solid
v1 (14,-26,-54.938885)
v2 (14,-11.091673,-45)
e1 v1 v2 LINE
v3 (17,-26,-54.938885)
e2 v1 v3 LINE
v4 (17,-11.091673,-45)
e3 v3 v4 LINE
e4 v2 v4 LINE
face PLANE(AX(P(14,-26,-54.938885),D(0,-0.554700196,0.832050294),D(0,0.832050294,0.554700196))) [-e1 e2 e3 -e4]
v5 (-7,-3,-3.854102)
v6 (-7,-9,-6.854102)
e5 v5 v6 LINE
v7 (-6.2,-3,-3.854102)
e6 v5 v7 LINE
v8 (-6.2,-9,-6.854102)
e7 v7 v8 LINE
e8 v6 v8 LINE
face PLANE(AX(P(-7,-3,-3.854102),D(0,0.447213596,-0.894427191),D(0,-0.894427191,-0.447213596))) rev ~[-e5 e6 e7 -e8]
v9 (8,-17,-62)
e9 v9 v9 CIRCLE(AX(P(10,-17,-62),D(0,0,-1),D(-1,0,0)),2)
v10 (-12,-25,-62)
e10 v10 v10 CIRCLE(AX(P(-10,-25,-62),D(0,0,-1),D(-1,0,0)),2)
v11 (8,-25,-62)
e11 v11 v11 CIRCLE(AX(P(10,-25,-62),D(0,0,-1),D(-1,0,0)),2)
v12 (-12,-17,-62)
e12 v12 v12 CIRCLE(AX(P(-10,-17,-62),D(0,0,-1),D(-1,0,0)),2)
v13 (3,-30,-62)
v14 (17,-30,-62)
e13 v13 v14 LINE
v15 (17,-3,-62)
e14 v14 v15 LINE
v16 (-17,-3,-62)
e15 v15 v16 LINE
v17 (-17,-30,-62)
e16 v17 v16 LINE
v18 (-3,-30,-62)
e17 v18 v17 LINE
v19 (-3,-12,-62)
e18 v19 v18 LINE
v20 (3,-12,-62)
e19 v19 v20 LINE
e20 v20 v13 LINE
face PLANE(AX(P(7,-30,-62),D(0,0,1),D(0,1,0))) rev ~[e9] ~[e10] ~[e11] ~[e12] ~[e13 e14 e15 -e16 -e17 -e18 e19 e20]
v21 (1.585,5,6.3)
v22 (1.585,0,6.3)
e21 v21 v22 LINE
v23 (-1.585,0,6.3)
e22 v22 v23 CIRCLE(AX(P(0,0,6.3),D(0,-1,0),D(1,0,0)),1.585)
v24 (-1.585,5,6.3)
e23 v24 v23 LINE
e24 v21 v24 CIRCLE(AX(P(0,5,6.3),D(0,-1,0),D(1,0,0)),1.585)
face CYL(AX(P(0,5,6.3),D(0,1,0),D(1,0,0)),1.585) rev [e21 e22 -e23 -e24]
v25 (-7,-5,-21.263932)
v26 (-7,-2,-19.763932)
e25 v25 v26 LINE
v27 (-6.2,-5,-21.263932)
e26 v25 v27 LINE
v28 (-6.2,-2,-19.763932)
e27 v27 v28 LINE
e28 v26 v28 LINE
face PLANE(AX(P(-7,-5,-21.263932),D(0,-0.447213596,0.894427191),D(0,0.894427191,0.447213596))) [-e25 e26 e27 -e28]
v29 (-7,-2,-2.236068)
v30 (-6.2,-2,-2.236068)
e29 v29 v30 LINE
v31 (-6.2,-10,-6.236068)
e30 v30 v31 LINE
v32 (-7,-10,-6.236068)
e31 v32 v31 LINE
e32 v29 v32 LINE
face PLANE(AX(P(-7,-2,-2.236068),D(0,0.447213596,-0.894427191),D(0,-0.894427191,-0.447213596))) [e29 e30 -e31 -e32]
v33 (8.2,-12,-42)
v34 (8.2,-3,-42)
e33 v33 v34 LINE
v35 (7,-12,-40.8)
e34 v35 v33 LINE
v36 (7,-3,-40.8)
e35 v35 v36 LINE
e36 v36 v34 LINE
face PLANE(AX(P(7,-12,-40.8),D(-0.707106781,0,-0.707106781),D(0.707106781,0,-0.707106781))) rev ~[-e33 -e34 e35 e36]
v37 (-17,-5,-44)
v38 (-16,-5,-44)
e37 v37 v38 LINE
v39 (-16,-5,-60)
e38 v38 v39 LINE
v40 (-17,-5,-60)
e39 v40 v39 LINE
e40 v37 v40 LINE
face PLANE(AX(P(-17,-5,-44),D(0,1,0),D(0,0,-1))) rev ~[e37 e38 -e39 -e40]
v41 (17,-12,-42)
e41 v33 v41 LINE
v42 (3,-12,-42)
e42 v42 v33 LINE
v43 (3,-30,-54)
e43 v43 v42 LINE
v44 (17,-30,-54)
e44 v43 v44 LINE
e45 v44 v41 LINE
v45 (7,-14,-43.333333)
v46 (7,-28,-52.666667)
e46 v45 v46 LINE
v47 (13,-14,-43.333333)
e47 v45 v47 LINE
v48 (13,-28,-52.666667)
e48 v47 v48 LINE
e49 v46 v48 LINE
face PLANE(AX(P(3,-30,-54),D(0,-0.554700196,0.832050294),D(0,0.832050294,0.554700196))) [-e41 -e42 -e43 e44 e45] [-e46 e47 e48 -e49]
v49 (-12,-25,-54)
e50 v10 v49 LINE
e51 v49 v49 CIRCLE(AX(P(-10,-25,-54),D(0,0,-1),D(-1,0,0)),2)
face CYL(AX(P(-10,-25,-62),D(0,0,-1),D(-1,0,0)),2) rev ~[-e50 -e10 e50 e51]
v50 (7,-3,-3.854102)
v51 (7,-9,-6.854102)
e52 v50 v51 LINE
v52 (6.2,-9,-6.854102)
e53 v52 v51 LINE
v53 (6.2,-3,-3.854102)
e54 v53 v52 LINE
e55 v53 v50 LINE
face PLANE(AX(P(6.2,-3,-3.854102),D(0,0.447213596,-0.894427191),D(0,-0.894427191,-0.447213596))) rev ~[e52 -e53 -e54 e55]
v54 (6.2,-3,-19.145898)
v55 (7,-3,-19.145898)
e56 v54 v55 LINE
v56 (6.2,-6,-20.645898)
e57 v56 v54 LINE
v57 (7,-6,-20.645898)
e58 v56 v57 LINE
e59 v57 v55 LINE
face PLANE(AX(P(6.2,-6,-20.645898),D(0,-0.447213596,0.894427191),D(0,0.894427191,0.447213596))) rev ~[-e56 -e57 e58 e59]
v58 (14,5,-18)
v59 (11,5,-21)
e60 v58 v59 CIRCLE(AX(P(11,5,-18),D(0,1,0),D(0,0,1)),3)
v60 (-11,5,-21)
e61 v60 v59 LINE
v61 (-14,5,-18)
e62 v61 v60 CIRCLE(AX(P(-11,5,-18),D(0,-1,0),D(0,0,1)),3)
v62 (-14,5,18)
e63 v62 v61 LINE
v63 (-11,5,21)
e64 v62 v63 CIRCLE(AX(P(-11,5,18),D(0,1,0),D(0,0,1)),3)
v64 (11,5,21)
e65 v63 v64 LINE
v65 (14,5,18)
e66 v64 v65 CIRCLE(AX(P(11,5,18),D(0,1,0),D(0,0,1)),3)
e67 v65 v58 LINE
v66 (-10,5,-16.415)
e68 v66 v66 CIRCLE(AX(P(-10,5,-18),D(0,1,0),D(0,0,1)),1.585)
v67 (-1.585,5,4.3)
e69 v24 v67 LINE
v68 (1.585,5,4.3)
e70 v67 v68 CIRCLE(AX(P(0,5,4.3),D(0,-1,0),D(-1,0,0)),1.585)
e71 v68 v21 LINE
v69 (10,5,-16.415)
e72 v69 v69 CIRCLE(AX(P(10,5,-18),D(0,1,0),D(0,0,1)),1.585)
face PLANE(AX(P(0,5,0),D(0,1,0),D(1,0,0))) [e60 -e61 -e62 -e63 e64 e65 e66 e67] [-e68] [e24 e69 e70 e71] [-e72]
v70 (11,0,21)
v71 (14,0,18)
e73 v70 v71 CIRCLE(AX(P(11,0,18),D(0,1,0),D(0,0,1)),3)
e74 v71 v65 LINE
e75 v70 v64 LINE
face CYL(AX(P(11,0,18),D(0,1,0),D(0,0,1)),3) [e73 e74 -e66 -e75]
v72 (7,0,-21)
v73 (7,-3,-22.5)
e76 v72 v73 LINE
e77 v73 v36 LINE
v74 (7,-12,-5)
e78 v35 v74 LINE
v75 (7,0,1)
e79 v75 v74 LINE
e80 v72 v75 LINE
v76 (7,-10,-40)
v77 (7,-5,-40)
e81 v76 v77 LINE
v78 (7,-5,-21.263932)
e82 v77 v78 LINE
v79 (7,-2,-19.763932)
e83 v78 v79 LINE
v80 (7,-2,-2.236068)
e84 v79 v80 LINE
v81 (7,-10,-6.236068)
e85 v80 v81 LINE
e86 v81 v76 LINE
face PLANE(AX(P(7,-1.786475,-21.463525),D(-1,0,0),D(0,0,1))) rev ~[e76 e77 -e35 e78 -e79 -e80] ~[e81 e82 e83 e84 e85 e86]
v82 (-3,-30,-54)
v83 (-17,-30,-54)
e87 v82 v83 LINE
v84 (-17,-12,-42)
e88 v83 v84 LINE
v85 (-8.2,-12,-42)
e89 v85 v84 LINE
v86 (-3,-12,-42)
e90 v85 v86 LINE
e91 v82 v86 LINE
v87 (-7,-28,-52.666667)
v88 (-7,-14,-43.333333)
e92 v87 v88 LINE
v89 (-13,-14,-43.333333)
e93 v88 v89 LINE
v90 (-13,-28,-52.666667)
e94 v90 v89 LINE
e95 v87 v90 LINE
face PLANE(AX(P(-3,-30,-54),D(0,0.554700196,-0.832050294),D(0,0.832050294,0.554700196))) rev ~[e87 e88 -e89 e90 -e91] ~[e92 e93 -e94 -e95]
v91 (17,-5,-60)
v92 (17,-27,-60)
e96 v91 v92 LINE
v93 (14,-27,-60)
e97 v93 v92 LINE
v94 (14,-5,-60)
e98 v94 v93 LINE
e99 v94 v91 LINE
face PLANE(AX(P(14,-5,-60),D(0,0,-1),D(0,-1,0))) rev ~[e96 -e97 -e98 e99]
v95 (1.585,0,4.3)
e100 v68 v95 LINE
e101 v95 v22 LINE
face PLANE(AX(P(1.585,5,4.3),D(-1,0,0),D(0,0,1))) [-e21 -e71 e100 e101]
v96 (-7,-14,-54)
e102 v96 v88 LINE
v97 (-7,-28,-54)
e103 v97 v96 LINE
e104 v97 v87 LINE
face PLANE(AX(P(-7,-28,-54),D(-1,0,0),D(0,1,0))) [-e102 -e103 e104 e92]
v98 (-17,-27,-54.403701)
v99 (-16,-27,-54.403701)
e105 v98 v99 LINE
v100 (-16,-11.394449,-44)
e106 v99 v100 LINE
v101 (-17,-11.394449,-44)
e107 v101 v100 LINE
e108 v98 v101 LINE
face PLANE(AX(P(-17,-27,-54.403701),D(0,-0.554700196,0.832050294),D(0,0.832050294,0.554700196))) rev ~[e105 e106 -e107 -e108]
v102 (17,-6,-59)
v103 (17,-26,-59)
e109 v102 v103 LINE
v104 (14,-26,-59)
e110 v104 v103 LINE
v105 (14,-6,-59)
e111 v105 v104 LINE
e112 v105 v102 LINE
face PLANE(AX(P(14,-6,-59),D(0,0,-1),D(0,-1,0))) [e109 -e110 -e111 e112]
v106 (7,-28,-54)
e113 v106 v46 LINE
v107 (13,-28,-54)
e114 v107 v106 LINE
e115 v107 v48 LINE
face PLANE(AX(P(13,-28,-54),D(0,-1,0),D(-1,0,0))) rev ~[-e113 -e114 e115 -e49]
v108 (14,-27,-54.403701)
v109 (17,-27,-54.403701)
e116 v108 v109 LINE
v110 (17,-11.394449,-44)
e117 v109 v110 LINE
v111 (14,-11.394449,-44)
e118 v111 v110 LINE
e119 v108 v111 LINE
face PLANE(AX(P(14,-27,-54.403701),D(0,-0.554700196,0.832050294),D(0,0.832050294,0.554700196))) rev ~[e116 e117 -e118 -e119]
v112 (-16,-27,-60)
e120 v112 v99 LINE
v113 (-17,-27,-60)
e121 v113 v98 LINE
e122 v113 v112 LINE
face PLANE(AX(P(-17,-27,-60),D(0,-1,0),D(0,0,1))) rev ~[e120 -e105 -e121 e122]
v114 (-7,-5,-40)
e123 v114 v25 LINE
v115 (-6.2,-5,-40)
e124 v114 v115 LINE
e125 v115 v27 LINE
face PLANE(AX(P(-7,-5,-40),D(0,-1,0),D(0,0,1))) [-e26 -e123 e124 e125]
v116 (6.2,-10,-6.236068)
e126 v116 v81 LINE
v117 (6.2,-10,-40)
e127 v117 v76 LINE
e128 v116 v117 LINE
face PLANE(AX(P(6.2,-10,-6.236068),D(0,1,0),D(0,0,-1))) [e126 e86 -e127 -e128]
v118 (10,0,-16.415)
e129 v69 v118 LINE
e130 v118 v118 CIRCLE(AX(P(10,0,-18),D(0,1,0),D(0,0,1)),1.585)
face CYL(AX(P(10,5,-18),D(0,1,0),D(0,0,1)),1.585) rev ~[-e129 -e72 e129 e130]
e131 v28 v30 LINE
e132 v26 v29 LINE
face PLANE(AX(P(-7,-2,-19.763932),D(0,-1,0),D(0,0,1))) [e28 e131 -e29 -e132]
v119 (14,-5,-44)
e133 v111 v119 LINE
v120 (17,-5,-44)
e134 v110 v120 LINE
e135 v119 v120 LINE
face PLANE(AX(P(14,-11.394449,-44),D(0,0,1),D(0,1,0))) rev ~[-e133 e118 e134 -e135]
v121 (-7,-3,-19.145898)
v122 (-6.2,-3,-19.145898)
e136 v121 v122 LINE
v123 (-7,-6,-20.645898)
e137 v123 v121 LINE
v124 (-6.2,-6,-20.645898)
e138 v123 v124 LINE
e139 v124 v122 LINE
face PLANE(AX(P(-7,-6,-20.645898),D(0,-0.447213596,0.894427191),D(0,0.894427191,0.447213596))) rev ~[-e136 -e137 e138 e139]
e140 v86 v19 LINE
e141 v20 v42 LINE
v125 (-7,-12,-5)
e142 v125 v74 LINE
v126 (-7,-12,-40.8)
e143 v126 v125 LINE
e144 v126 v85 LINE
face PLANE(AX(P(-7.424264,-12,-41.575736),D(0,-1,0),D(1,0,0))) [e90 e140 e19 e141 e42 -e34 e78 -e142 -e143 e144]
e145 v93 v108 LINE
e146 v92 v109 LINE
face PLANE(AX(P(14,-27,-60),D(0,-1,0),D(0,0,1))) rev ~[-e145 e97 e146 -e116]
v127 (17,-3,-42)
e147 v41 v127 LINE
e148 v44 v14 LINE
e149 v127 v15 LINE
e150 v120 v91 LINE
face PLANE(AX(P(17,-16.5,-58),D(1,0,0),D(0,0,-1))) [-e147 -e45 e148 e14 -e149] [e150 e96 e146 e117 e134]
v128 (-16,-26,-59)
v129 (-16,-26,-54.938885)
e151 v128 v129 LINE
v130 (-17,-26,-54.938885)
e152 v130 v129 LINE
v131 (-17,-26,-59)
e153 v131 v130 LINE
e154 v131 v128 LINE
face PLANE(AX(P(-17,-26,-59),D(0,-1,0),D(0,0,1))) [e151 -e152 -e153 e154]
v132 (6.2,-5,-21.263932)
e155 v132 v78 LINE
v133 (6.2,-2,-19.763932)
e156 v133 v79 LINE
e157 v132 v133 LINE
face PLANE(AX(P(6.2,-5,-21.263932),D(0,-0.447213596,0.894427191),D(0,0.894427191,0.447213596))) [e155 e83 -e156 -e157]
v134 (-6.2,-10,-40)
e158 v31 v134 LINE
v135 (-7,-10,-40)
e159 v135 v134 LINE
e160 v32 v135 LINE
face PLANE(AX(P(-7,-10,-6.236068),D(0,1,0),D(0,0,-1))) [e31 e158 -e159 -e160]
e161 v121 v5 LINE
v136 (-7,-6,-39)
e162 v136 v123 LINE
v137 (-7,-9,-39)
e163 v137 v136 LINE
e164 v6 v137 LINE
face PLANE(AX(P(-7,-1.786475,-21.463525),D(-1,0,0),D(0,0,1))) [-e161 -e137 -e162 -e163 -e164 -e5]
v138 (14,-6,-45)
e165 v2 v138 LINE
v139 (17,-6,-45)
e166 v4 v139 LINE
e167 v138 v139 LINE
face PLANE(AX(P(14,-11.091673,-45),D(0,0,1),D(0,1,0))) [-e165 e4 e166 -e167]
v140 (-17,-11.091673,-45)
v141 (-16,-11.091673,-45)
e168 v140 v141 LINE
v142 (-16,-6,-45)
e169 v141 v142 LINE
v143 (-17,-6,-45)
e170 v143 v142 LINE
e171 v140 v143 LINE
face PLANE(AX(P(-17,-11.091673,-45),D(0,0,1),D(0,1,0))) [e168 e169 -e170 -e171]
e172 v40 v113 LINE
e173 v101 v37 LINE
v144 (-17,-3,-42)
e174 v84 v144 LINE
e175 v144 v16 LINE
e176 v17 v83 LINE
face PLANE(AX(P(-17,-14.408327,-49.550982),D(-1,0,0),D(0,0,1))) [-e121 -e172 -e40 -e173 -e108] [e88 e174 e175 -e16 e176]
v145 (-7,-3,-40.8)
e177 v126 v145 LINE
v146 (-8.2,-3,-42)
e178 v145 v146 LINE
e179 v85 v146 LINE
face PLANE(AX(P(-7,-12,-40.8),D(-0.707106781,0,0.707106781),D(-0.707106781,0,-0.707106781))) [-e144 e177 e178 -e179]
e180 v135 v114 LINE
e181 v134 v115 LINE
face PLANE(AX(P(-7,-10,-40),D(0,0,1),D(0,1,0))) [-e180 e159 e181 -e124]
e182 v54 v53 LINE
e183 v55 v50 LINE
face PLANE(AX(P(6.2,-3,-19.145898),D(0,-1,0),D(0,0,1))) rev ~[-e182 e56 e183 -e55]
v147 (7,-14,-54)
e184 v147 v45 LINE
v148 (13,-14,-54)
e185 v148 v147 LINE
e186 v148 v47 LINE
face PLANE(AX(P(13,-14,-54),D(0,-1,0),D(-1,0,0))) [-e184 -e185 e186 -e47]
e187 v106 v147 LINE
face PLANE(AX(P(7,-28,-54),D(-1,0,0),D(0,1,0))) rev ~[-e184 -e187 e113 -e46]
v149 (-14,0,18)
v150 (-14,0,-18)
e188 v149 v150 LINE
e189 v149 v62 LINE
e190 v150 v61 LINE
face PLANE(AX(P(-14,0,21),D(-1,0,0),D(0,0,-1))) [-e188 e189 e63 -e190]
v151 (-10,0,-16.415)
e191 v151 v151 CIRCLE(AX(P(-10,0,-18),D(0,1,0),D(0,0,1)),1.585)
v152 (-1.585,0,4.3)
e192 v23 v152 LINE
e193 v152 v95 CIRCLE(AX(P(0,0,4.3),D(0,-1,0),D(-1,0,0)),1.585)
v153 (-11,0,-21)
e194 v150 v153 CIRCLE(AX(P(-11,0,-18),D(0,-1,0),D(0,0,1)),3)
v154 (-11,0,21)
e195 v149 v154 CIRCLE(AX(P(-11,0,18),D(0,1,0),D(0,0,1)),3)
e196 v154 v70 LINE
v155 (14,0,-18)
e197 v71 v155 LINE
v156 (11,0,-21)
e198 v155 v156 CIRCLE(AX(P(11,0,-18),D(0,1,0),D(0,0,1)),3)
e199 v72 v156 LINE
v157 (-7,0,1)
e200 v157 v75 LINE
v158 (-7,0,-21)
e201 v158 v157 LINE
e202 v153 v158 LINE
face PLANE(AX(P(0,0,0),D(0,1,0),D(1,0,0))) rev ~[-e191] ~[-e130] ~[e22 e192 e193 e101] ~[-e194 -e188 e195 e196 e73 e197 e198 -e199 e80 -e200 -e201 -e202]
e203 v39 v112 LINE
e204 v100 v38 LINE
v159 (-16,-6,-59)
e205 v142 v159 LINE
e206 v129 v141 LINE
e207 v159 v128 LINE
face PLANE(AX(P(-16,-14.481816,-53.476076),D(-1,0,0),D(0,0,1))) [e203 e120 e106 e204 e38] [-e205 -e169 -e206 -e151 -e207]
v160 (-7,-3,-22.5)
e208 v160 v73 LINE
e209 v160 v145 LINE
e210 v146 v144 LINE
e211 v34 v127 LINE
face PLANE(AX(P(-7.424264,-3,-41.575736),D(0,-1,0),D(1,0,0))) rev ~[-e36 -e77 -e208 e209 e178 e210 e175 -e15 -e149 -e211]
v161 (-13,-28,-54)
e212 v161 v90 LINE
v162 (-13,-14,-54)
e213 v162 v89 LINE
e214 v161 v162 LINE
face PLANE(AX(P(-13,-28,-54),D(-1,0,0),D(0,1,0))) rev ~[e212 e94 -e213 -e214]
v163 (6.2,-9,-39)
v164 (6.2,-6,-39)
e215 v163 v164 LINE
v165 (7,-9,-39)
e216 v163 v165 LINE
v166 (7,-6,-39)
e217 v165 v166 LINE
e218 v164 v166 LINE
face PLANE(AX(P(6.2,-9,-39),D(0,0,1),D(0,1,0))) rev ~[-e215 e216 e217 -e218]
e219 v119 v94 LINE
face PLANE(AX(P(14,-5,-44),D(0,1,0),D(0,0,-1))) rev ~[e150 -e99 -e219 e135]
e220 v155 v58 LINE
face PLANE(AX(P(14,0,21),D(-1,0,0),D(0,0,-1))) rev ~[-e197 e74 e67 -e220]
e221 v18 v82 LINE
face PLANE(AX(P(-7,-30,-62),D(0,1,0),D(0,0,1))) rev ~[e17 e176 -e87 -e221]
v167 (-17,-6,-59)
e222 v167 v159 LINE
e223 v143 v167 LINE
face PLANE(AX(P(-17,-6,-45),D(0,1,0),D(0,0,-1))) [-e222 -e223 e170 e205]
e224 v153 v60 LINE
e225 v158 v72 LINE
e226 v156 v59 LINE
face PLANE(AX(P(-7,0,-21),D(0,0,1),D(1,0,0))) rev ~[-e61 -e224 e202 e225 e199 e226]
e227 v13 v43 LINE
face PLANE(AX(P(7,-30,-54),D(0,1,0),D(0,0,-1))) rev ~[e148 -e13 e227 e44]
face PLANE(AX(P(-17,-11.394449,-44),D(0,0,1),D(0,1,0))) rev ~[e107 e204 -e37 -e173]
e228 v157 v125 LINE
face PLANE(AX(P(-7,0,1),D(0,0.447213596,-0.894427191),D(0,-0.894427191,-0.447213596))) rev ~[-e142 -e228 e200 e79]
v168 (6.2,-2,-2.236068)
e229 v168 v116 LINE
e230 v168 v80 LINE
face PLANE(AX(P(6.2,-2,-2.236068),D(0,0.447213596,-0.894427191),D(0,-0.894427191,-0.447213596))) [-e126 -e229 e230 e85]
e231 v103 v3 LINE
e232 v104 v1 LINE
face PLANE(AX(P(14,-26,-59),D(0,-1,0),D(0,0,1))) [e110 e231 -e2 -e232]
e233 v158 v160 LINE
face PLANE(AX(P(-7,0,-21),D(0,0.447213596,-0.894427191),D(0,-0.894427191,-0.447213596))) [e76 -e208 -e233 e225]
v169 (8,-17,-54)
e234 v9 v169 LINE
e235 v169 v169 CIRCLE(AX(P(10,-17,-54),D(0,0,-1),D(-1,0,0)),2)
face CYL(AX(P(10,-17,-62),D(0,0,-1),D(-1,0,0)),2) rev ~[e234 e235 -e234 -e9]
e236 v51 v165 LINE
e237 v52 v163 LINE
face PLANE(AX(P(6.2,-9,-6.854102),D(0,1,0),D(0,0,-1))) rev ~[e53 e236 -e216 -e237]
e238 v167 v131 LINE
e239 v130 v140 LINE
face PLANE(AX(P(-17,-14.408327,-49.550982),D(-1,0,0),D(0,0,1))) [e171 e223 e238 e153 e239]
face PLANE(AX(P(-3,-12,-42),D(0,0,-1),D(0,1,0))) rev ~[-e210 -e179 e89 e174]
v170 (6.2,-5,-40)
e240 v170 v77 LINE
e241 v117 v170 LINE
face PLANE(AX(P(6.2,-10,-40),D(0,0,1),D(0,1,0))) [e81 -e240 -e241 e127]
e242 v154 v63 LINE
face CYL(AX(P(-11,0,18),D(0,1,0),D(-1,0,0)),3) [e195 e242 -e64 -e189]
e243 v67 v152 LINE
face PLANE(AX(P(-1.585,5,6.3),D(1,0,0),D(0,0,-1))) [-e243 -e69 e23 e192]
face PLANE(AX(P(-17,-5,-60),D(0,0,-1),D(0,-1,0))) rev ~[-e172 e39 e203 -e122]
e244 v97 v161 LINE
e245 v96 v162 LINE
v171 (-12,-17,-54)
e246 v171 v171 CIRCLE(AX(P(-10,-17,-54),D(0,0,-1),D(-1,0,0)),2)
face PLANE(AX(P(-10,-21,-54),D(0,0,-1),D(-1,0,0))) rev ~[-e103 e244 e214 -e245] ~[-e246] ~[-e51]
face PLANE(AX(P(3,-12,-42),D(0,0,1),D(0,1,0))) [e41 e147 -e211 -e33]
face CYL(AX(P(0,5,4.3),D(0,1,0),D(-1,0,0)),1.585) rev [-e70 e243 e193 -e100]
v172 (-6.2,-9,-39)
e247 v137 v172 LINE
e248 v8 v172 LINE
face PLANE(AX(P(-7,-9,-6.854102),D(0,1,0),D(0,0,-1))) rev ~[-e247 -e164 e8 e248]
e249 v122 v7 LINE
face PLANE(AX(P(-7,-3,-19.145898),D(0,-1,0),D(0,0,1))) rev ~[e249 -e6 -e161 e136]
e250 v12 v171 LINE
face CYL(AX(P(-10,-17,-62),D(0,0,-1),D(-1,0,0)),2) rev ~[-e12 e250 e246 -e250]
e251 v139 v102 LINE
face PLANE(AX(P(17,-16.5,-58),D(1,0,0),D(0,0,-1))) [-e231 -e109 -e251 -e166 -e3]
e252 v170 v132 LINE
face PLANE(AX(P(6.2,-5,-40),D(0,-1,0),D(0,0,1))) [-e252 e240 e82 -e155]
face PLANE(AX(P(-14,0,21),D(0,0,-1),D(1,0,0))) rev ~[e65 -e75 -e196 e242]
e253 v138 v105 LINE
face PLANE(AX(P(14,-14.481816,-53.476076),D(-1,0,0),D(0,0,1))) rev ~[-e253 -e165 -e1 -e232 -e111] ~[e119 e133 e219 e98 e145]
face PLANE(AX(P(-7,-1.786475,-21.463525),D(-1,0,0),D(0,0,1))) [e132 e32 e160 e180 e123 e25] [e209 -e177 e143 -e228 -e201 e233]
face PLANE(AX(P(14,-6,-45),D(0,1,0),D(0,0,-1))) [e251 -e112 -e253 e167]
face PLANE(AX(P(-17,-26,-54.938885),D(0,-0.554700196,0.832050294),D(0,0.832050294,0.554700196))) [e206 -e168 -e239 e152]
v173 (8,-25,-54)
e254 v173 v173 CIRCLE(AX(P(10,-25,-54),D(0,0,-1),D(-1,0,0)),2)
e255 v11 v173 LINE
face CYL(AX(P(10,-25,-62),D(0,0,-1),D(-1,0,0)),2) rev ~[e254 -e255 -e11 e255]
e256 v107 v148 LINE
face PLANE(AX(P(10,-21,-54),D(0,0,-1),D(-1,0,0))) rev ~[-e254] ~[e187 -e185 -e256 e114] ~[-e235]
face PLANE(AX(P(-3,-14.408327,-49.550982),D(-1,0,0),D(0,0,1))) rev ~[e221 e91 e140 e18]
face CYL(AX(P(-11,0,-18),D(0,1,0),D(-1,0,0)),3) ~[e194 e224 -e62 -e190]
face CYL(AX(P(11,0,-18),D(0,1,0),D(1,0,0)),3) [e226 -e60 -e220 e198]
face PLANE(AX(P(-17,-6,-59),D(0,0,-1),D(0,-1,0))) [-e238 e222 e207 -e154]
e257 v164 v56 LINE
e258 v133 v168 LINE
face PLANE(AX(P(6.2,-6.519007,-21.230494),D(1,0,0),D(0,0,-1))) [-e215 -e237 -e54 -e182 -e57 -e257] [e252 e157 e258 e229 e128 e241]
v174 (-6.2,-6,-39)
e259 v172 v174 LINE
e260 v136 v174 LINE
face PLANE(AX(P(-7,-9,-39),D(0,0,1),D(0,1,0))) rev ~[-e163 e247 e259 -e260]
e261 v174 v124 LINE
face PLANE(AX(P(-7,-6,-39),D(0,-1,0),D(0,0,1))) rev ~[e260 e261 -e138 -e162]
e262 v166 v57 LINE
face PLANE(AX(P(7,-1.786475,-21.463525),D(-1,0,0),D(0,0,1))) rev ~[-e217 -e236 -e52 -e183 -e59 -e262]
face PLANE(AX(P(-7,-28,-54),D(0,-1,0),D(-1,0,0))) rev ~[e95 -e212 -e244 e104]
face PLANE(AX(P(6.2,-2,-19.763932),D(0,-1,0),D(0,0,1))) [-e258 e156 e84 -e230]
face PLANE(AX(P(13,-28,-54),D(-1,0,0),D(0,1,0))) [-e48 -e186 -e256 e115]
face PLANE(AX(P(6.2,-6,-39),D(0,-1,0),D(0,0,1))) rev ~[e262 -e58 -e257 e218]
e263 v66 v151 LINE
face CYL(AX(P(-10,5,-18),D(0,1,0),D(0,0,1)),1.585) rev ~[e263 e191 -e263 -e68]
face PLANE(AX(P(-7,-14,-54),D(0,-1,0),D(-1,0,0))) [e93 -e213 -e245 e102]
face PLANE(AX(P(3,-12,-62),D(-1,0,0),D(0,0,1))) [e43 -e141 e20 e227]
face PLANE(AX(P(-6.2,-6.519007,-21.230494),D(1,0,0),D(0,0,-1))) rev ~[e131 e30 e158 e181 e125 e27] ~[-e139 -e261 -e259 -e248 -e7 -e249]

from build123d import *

# Parameters (mm, degrees)
SKETCH1_W                = 28
SKETCH1_H                = 42
BOSS_EXTRUDE1_DEPTH      = 5
FILLET1_R                = 3
SKETCH3_R                = 1.585
CUT_EXTRUDE1_DEPTH       = 5
SKETCH4_W                = 14
SKETCH4_H                = 63
BOSS_EXTRUDE2_DEPTH      = 12
SKETCH5_W                = 14
SKETCH5_H                = 41
CUT_EXTRUDE2_DEPTH       = 3
SKETCH6_W                = 4
SKETCH6_H                = 8
BOSS_EXTRUDE3_DEPTH      = 18
SKETCH7_W                = 8
SKETCH7_H                = 27
BOSS_EXTRUDE4_DEPTH      = 10
SKETCH8_W                = 8
SKETCH8_H                = 27
BOSS_EXTRUDE5_DEPTH      = 10
BOSS_EXTRUDE6_DEPTH      = 10
BOSS_EXTRUDE6_DEPTH_BACK = 4
BOSS_EXTRUDE7_DEPTH      = 10
BOSS_EXTRUDE7_DEPTH_BACK = 4
CUT_EXTRUDE5_DEPTH       = 16
BOSS_EXTRUDE8_DEPTH      = 14
SKETCH16_R               = 2
CUT_EXTRUDE6_DEPTH       = 27
CUT_EXTRUDE8_START       = -8
SKETCH19_W               = 6
SKETCH19_H               = 14
CUT_EXTRUDE8_DEPTH       = 14
CUT_EXTRUDE9_DEPTH       = 1
CUT_EXTRUDE10_START      = -31
CUT_EXTRUDE10_DEPTH      = 3
CUT_EXTRUDE11_DEPTH      = 0.8
CUT_EXTRUDE12_START      = -13.2
CUT_EXTRUDE12_DEPTH      = 7.8
BOSS_EXTRUDE10_DEPTH     = 9


with BuildPart() as part:
    # Sketch1 → Boss-Extrude1 (new body)
    with BuildSketch(Plane(origin=(0, 0, 0), x_dir=(1, 0, 0), z_dir=(0, 1, 0))):
        Rectangle(SKETCH1_W, SKETCH1_H)
    extrude(amount=BOSS_EXTRUDE1_DEPTH)

    # Fillet1
    fillet1_edges = [part.edges().sort_by_distance(p)[0] for p in [
        (-14, 2.5, 21),
        (-14, 2.5, -21),
        (14, 2.5, -21),
        (14, 2.5, 21),
    ]]
    fillet(fillet1_edges, radius=FILLET1_R)

    # Sketch3 → Cut-Extrude1 (cut)
    with BuildSketch(Plane(origin=(0, 5, 0), x_dir=(1, 0, 0), z_dir=(0, 1, 0))):
        with Locations(Location((10, 18, 0), (0, 0, 270))):
            Circle(SKETCH3_R)
        with Locations(Location((-10, 18, 0), (0, 0, 270))):
            Circle(SKETCH3_R)
        with BuildLine():
            Line((1.585, -4.3), (1.585, -6.3))
            ThreePointArc((1.585, -6.3), (0, -7.885), (-1.585, -6.3))
            Line((-1.585, -6.3), (-1.585, -4.3))
            ThreePointArc((-1.585, -4.3), (0, -2.715), (1.585, -4.3))
        make_face()
    extrude(amount=-CUT_EXTRUDE1_DEPTH, mode=Mode.SUBTRACT)

    # Sketch4 → Boss-Extrude2 (add)
    with BuildSketch(Plane.XZ):
        with Locations((0, -30.5)):
            Rectangle(SKETCH4_W, SKETCH4_H)
    extrude(amount=BOSS_EXTRUDE2_DEPTH)

    # Sketch5 → Cut-Extrude2 (cut)
    with BuildSketch(Plane(origin=(0, 0, 0), x_dir=(1, 0, 0), z_dir=(0, 1, 0))):
        with Locations((0, 41.5)):
            Rectangle(SKETCH5_W, SKETCH5_H)
    extrude(amount=-CUT_EXTRUDE2_DEPTH, mode=Mode.SUBTRACT)

    # Sketch6 → Boss-Extrude3 (add)
    with BuildSketch(Plane.XZ.offset(12)):
        with Locations((-5, -58)):
            Rectangle(SKETCH6_W, SKETCH6_H)
        with Locations((5, -58)):
            Rectangle(SKETCH6_W, SKETCH6_H)
    extrude(amount=BOSS_EXTRUDE3_DEPTH)

    # Sketch7 → Boss-Extrude4 (add)
    with BuildSketch(Plane.ZY.offset(7)):
        with Locations((-58, -16.5)):
            Rectangle(SKETCH7_W, SKETCH7_H)
    extrude(amount=BOSS_EXTRUDE4_DEPTH)

    # Sketch8 → Boss-Extrude5 (add)
    with BuildSketch(Plane(origin=(7, 0, 0), x_dir=(0, 0, -1), z_dir=(1, 0, 0))):
        with Locations((58, -16.5)):
            Rectangle(SKETCH8_W, SKETCH8_H)
    extrude(amount=BOSS_EXTRUDE5_DEPTH)

    # Sketch9 → Boss-Extrude6 (add, two sides: drawn at the far end of the back side and taken through both)
    with BuildSketch(Plane.ZY.offset(7).offset(-BOSS_EXTRUDE6_DEPTH_BACK)):
        Polygon((-54, -30), (-42, -12), (-42, -3), (-54, -3), align=None)
    extrude(amount=BOSS_EXTRUDE6_DEPTH + BOSS_EXTRUDE6_DEPTH_BACK)

    # Sketch10 → Boss-Extrude7 (add, two sides: drawn at the far end of the back side and taken through both)
    with BuildSketch(Plane(origin=(7, 0, 0), x_dir=(0, 0, -1), z_dir=(1, 0, 0)).offset(-BOSS_EXTRUDE7_DEPTH_BACK)):
        Polygon((42, -12), (42, -3), (54, -3), (54, -30), align=None)
    extrude(amount=BOSS_EXTRUDE7_DEPTH + BOSS_EXTRUDE7_DEPTH_BACK)

    # Sketch13 → Cut-Extrude5 (cut)
    with BuildSketch(Plane.ZY.offset(7)):
        Polygon((1, 0), (-5, -12), (1, -12), align=None)
    extrude(amount=-CUT_EXTRUDE5_DEPTH, mode=Mode.SUBTRACT)

    # Sketch14 → Boss-Extrude8 (add)
    with BuildSketch(Plane.ZY.offset(7)):
        Polygon((-21, 0), (-22.5, -3), (-21, -3), align=None)
    extrude(amount=-BOSS_EXTRUDE8_DEPTH)

    # Sketch16 → Cut-Extrude6 (cut)
    with BuildSketch(Plane(origin=(0, 0, -62), x_dir=(-1, 0, 0), z_dir=(0, 0, -1))):
        with Locations((-10, -17)):
            Circle(SKETCH16_R)
        with Locations((-10, -25)):
            Circle(SKETCH16_R)
        with Locations((10, -17)):
            Circle(SKETCH16_R)
        with Locations((10, -25)):
            Circle(SKETCH16_R)
    extrude(amount=-CUT_EXTRUDE6_DEPTH, mode=Mode.SUBTRACT)

    # Sketch19 → Cut-Extrude8 (cut)
    with BuildSketch(Plane(origin=(0, 0, -62), x_dir=(-1, 0, 0), z_dir=(0, 0, -1)).offset(CUT_EXTRUDE8_START)):
        with Locations((-10, -21)):
            Rectangle(SKETCH19_W, SKETCH19_H)
        with Locations((10, -21)):
            Rectangle(SKETCH19_W, SKETCH19_H)
    extrude(amount=-CUT_EXTRUDE8_DEPTH, mode=Mode.SUBTRACT)

    # Sketch20 → Cut-Extrude9 (cut)
    with BuildSketch(Plane.ZY.offset(17)):
        Polygon((-60, -5), (-60, -27), (-54.40370085, -27), (-44, -11.394448725), (-44, -5), align=None)
        Polygon((-59, -6), (-59, -26), (-54.938884609, -26), (-45, -11.091673087), (-45, -6), align=None, mode=Mode.SUBTRACT)
    extrude(amount=-CUT_EXTRUDE9_DEPTH, mode=Mode.SUBTRACT)

    # Sketch24 → Cut-Extrude10 (cut)
    with BuildSketch(Plane.ZY.offset(17).offset(CUT_EXTRUDE10_START)):
        Polygon((-60, -5), (-60, -27), (-54.40370085, -27), (-44, -11.394448725), (-44, -5), align=None)
        Polygon((-59, -6), (-59, -26), (-54.938884609, -26), (-45, -11.091673087), (-45, -6), align=None, mode=Mode.SUBTRACT)
    extrude(amount=-CUT_EXTRUDE10_DEPTH, mode=Mode.SUBTRACT)

    # Sketch25 → Cut-Extrude11 (cut)
    with BuildSketch(Plane.ZY.offset(7)):
        Polygon((-40, -5), (-21.263932023, -5), (-19.763932023, -2), (-2.236067977, -2), (-6.236067977, -10), (-40, -10), align=None)
        Polygon((-39, -6), (-20.645898034, -6), (-19.145898034, -3), (-3.854101966, -3), (-6.854101966, -9), (-39, -9), align=None, mode=Mode.SUBTRACT)
    extrude(amount=-CUT_EXTRUDE11_DEPTH, mode=Mode.SUBTRACT)

    # Sketch26 → Cut-Extrude12 (cut)
    with BuildSketch(Plane.ZY.offset(7).offset(CUT_EXTRUDE12_START)):
        Polygon((-40, -5), (-21.263932023, -5), (-19.763932023, -2), (-2.236067977, -2), (-6.236067977, -10), (-40, -10), align=None)
        Polygon((-39, -6), (-20.645898034, -6), (-19.145898034, -3), (-3.854101966, -3), (-6.854101966, -9), (-39, -9), align=None, mode=Mode.SUBTRACT)
    extrude(amount=-CUT_EXTRUDE12_DEPTH, mode=Mode.SUBTRACT)

    # Sketch30 → Boss-Extrude10 (add)
    with BuildSketch(Plane.XZ.offset(12)):
        Polygon((-7, -42), (-7, -40.8), (-8.2, -42), align=None)
        Polygon((7, -42), (7, -40.8), (8.2, -42), align=None)
    extrude(amount=-BOSS_EXTRUDE10_DEPTH)


solid = part.part
